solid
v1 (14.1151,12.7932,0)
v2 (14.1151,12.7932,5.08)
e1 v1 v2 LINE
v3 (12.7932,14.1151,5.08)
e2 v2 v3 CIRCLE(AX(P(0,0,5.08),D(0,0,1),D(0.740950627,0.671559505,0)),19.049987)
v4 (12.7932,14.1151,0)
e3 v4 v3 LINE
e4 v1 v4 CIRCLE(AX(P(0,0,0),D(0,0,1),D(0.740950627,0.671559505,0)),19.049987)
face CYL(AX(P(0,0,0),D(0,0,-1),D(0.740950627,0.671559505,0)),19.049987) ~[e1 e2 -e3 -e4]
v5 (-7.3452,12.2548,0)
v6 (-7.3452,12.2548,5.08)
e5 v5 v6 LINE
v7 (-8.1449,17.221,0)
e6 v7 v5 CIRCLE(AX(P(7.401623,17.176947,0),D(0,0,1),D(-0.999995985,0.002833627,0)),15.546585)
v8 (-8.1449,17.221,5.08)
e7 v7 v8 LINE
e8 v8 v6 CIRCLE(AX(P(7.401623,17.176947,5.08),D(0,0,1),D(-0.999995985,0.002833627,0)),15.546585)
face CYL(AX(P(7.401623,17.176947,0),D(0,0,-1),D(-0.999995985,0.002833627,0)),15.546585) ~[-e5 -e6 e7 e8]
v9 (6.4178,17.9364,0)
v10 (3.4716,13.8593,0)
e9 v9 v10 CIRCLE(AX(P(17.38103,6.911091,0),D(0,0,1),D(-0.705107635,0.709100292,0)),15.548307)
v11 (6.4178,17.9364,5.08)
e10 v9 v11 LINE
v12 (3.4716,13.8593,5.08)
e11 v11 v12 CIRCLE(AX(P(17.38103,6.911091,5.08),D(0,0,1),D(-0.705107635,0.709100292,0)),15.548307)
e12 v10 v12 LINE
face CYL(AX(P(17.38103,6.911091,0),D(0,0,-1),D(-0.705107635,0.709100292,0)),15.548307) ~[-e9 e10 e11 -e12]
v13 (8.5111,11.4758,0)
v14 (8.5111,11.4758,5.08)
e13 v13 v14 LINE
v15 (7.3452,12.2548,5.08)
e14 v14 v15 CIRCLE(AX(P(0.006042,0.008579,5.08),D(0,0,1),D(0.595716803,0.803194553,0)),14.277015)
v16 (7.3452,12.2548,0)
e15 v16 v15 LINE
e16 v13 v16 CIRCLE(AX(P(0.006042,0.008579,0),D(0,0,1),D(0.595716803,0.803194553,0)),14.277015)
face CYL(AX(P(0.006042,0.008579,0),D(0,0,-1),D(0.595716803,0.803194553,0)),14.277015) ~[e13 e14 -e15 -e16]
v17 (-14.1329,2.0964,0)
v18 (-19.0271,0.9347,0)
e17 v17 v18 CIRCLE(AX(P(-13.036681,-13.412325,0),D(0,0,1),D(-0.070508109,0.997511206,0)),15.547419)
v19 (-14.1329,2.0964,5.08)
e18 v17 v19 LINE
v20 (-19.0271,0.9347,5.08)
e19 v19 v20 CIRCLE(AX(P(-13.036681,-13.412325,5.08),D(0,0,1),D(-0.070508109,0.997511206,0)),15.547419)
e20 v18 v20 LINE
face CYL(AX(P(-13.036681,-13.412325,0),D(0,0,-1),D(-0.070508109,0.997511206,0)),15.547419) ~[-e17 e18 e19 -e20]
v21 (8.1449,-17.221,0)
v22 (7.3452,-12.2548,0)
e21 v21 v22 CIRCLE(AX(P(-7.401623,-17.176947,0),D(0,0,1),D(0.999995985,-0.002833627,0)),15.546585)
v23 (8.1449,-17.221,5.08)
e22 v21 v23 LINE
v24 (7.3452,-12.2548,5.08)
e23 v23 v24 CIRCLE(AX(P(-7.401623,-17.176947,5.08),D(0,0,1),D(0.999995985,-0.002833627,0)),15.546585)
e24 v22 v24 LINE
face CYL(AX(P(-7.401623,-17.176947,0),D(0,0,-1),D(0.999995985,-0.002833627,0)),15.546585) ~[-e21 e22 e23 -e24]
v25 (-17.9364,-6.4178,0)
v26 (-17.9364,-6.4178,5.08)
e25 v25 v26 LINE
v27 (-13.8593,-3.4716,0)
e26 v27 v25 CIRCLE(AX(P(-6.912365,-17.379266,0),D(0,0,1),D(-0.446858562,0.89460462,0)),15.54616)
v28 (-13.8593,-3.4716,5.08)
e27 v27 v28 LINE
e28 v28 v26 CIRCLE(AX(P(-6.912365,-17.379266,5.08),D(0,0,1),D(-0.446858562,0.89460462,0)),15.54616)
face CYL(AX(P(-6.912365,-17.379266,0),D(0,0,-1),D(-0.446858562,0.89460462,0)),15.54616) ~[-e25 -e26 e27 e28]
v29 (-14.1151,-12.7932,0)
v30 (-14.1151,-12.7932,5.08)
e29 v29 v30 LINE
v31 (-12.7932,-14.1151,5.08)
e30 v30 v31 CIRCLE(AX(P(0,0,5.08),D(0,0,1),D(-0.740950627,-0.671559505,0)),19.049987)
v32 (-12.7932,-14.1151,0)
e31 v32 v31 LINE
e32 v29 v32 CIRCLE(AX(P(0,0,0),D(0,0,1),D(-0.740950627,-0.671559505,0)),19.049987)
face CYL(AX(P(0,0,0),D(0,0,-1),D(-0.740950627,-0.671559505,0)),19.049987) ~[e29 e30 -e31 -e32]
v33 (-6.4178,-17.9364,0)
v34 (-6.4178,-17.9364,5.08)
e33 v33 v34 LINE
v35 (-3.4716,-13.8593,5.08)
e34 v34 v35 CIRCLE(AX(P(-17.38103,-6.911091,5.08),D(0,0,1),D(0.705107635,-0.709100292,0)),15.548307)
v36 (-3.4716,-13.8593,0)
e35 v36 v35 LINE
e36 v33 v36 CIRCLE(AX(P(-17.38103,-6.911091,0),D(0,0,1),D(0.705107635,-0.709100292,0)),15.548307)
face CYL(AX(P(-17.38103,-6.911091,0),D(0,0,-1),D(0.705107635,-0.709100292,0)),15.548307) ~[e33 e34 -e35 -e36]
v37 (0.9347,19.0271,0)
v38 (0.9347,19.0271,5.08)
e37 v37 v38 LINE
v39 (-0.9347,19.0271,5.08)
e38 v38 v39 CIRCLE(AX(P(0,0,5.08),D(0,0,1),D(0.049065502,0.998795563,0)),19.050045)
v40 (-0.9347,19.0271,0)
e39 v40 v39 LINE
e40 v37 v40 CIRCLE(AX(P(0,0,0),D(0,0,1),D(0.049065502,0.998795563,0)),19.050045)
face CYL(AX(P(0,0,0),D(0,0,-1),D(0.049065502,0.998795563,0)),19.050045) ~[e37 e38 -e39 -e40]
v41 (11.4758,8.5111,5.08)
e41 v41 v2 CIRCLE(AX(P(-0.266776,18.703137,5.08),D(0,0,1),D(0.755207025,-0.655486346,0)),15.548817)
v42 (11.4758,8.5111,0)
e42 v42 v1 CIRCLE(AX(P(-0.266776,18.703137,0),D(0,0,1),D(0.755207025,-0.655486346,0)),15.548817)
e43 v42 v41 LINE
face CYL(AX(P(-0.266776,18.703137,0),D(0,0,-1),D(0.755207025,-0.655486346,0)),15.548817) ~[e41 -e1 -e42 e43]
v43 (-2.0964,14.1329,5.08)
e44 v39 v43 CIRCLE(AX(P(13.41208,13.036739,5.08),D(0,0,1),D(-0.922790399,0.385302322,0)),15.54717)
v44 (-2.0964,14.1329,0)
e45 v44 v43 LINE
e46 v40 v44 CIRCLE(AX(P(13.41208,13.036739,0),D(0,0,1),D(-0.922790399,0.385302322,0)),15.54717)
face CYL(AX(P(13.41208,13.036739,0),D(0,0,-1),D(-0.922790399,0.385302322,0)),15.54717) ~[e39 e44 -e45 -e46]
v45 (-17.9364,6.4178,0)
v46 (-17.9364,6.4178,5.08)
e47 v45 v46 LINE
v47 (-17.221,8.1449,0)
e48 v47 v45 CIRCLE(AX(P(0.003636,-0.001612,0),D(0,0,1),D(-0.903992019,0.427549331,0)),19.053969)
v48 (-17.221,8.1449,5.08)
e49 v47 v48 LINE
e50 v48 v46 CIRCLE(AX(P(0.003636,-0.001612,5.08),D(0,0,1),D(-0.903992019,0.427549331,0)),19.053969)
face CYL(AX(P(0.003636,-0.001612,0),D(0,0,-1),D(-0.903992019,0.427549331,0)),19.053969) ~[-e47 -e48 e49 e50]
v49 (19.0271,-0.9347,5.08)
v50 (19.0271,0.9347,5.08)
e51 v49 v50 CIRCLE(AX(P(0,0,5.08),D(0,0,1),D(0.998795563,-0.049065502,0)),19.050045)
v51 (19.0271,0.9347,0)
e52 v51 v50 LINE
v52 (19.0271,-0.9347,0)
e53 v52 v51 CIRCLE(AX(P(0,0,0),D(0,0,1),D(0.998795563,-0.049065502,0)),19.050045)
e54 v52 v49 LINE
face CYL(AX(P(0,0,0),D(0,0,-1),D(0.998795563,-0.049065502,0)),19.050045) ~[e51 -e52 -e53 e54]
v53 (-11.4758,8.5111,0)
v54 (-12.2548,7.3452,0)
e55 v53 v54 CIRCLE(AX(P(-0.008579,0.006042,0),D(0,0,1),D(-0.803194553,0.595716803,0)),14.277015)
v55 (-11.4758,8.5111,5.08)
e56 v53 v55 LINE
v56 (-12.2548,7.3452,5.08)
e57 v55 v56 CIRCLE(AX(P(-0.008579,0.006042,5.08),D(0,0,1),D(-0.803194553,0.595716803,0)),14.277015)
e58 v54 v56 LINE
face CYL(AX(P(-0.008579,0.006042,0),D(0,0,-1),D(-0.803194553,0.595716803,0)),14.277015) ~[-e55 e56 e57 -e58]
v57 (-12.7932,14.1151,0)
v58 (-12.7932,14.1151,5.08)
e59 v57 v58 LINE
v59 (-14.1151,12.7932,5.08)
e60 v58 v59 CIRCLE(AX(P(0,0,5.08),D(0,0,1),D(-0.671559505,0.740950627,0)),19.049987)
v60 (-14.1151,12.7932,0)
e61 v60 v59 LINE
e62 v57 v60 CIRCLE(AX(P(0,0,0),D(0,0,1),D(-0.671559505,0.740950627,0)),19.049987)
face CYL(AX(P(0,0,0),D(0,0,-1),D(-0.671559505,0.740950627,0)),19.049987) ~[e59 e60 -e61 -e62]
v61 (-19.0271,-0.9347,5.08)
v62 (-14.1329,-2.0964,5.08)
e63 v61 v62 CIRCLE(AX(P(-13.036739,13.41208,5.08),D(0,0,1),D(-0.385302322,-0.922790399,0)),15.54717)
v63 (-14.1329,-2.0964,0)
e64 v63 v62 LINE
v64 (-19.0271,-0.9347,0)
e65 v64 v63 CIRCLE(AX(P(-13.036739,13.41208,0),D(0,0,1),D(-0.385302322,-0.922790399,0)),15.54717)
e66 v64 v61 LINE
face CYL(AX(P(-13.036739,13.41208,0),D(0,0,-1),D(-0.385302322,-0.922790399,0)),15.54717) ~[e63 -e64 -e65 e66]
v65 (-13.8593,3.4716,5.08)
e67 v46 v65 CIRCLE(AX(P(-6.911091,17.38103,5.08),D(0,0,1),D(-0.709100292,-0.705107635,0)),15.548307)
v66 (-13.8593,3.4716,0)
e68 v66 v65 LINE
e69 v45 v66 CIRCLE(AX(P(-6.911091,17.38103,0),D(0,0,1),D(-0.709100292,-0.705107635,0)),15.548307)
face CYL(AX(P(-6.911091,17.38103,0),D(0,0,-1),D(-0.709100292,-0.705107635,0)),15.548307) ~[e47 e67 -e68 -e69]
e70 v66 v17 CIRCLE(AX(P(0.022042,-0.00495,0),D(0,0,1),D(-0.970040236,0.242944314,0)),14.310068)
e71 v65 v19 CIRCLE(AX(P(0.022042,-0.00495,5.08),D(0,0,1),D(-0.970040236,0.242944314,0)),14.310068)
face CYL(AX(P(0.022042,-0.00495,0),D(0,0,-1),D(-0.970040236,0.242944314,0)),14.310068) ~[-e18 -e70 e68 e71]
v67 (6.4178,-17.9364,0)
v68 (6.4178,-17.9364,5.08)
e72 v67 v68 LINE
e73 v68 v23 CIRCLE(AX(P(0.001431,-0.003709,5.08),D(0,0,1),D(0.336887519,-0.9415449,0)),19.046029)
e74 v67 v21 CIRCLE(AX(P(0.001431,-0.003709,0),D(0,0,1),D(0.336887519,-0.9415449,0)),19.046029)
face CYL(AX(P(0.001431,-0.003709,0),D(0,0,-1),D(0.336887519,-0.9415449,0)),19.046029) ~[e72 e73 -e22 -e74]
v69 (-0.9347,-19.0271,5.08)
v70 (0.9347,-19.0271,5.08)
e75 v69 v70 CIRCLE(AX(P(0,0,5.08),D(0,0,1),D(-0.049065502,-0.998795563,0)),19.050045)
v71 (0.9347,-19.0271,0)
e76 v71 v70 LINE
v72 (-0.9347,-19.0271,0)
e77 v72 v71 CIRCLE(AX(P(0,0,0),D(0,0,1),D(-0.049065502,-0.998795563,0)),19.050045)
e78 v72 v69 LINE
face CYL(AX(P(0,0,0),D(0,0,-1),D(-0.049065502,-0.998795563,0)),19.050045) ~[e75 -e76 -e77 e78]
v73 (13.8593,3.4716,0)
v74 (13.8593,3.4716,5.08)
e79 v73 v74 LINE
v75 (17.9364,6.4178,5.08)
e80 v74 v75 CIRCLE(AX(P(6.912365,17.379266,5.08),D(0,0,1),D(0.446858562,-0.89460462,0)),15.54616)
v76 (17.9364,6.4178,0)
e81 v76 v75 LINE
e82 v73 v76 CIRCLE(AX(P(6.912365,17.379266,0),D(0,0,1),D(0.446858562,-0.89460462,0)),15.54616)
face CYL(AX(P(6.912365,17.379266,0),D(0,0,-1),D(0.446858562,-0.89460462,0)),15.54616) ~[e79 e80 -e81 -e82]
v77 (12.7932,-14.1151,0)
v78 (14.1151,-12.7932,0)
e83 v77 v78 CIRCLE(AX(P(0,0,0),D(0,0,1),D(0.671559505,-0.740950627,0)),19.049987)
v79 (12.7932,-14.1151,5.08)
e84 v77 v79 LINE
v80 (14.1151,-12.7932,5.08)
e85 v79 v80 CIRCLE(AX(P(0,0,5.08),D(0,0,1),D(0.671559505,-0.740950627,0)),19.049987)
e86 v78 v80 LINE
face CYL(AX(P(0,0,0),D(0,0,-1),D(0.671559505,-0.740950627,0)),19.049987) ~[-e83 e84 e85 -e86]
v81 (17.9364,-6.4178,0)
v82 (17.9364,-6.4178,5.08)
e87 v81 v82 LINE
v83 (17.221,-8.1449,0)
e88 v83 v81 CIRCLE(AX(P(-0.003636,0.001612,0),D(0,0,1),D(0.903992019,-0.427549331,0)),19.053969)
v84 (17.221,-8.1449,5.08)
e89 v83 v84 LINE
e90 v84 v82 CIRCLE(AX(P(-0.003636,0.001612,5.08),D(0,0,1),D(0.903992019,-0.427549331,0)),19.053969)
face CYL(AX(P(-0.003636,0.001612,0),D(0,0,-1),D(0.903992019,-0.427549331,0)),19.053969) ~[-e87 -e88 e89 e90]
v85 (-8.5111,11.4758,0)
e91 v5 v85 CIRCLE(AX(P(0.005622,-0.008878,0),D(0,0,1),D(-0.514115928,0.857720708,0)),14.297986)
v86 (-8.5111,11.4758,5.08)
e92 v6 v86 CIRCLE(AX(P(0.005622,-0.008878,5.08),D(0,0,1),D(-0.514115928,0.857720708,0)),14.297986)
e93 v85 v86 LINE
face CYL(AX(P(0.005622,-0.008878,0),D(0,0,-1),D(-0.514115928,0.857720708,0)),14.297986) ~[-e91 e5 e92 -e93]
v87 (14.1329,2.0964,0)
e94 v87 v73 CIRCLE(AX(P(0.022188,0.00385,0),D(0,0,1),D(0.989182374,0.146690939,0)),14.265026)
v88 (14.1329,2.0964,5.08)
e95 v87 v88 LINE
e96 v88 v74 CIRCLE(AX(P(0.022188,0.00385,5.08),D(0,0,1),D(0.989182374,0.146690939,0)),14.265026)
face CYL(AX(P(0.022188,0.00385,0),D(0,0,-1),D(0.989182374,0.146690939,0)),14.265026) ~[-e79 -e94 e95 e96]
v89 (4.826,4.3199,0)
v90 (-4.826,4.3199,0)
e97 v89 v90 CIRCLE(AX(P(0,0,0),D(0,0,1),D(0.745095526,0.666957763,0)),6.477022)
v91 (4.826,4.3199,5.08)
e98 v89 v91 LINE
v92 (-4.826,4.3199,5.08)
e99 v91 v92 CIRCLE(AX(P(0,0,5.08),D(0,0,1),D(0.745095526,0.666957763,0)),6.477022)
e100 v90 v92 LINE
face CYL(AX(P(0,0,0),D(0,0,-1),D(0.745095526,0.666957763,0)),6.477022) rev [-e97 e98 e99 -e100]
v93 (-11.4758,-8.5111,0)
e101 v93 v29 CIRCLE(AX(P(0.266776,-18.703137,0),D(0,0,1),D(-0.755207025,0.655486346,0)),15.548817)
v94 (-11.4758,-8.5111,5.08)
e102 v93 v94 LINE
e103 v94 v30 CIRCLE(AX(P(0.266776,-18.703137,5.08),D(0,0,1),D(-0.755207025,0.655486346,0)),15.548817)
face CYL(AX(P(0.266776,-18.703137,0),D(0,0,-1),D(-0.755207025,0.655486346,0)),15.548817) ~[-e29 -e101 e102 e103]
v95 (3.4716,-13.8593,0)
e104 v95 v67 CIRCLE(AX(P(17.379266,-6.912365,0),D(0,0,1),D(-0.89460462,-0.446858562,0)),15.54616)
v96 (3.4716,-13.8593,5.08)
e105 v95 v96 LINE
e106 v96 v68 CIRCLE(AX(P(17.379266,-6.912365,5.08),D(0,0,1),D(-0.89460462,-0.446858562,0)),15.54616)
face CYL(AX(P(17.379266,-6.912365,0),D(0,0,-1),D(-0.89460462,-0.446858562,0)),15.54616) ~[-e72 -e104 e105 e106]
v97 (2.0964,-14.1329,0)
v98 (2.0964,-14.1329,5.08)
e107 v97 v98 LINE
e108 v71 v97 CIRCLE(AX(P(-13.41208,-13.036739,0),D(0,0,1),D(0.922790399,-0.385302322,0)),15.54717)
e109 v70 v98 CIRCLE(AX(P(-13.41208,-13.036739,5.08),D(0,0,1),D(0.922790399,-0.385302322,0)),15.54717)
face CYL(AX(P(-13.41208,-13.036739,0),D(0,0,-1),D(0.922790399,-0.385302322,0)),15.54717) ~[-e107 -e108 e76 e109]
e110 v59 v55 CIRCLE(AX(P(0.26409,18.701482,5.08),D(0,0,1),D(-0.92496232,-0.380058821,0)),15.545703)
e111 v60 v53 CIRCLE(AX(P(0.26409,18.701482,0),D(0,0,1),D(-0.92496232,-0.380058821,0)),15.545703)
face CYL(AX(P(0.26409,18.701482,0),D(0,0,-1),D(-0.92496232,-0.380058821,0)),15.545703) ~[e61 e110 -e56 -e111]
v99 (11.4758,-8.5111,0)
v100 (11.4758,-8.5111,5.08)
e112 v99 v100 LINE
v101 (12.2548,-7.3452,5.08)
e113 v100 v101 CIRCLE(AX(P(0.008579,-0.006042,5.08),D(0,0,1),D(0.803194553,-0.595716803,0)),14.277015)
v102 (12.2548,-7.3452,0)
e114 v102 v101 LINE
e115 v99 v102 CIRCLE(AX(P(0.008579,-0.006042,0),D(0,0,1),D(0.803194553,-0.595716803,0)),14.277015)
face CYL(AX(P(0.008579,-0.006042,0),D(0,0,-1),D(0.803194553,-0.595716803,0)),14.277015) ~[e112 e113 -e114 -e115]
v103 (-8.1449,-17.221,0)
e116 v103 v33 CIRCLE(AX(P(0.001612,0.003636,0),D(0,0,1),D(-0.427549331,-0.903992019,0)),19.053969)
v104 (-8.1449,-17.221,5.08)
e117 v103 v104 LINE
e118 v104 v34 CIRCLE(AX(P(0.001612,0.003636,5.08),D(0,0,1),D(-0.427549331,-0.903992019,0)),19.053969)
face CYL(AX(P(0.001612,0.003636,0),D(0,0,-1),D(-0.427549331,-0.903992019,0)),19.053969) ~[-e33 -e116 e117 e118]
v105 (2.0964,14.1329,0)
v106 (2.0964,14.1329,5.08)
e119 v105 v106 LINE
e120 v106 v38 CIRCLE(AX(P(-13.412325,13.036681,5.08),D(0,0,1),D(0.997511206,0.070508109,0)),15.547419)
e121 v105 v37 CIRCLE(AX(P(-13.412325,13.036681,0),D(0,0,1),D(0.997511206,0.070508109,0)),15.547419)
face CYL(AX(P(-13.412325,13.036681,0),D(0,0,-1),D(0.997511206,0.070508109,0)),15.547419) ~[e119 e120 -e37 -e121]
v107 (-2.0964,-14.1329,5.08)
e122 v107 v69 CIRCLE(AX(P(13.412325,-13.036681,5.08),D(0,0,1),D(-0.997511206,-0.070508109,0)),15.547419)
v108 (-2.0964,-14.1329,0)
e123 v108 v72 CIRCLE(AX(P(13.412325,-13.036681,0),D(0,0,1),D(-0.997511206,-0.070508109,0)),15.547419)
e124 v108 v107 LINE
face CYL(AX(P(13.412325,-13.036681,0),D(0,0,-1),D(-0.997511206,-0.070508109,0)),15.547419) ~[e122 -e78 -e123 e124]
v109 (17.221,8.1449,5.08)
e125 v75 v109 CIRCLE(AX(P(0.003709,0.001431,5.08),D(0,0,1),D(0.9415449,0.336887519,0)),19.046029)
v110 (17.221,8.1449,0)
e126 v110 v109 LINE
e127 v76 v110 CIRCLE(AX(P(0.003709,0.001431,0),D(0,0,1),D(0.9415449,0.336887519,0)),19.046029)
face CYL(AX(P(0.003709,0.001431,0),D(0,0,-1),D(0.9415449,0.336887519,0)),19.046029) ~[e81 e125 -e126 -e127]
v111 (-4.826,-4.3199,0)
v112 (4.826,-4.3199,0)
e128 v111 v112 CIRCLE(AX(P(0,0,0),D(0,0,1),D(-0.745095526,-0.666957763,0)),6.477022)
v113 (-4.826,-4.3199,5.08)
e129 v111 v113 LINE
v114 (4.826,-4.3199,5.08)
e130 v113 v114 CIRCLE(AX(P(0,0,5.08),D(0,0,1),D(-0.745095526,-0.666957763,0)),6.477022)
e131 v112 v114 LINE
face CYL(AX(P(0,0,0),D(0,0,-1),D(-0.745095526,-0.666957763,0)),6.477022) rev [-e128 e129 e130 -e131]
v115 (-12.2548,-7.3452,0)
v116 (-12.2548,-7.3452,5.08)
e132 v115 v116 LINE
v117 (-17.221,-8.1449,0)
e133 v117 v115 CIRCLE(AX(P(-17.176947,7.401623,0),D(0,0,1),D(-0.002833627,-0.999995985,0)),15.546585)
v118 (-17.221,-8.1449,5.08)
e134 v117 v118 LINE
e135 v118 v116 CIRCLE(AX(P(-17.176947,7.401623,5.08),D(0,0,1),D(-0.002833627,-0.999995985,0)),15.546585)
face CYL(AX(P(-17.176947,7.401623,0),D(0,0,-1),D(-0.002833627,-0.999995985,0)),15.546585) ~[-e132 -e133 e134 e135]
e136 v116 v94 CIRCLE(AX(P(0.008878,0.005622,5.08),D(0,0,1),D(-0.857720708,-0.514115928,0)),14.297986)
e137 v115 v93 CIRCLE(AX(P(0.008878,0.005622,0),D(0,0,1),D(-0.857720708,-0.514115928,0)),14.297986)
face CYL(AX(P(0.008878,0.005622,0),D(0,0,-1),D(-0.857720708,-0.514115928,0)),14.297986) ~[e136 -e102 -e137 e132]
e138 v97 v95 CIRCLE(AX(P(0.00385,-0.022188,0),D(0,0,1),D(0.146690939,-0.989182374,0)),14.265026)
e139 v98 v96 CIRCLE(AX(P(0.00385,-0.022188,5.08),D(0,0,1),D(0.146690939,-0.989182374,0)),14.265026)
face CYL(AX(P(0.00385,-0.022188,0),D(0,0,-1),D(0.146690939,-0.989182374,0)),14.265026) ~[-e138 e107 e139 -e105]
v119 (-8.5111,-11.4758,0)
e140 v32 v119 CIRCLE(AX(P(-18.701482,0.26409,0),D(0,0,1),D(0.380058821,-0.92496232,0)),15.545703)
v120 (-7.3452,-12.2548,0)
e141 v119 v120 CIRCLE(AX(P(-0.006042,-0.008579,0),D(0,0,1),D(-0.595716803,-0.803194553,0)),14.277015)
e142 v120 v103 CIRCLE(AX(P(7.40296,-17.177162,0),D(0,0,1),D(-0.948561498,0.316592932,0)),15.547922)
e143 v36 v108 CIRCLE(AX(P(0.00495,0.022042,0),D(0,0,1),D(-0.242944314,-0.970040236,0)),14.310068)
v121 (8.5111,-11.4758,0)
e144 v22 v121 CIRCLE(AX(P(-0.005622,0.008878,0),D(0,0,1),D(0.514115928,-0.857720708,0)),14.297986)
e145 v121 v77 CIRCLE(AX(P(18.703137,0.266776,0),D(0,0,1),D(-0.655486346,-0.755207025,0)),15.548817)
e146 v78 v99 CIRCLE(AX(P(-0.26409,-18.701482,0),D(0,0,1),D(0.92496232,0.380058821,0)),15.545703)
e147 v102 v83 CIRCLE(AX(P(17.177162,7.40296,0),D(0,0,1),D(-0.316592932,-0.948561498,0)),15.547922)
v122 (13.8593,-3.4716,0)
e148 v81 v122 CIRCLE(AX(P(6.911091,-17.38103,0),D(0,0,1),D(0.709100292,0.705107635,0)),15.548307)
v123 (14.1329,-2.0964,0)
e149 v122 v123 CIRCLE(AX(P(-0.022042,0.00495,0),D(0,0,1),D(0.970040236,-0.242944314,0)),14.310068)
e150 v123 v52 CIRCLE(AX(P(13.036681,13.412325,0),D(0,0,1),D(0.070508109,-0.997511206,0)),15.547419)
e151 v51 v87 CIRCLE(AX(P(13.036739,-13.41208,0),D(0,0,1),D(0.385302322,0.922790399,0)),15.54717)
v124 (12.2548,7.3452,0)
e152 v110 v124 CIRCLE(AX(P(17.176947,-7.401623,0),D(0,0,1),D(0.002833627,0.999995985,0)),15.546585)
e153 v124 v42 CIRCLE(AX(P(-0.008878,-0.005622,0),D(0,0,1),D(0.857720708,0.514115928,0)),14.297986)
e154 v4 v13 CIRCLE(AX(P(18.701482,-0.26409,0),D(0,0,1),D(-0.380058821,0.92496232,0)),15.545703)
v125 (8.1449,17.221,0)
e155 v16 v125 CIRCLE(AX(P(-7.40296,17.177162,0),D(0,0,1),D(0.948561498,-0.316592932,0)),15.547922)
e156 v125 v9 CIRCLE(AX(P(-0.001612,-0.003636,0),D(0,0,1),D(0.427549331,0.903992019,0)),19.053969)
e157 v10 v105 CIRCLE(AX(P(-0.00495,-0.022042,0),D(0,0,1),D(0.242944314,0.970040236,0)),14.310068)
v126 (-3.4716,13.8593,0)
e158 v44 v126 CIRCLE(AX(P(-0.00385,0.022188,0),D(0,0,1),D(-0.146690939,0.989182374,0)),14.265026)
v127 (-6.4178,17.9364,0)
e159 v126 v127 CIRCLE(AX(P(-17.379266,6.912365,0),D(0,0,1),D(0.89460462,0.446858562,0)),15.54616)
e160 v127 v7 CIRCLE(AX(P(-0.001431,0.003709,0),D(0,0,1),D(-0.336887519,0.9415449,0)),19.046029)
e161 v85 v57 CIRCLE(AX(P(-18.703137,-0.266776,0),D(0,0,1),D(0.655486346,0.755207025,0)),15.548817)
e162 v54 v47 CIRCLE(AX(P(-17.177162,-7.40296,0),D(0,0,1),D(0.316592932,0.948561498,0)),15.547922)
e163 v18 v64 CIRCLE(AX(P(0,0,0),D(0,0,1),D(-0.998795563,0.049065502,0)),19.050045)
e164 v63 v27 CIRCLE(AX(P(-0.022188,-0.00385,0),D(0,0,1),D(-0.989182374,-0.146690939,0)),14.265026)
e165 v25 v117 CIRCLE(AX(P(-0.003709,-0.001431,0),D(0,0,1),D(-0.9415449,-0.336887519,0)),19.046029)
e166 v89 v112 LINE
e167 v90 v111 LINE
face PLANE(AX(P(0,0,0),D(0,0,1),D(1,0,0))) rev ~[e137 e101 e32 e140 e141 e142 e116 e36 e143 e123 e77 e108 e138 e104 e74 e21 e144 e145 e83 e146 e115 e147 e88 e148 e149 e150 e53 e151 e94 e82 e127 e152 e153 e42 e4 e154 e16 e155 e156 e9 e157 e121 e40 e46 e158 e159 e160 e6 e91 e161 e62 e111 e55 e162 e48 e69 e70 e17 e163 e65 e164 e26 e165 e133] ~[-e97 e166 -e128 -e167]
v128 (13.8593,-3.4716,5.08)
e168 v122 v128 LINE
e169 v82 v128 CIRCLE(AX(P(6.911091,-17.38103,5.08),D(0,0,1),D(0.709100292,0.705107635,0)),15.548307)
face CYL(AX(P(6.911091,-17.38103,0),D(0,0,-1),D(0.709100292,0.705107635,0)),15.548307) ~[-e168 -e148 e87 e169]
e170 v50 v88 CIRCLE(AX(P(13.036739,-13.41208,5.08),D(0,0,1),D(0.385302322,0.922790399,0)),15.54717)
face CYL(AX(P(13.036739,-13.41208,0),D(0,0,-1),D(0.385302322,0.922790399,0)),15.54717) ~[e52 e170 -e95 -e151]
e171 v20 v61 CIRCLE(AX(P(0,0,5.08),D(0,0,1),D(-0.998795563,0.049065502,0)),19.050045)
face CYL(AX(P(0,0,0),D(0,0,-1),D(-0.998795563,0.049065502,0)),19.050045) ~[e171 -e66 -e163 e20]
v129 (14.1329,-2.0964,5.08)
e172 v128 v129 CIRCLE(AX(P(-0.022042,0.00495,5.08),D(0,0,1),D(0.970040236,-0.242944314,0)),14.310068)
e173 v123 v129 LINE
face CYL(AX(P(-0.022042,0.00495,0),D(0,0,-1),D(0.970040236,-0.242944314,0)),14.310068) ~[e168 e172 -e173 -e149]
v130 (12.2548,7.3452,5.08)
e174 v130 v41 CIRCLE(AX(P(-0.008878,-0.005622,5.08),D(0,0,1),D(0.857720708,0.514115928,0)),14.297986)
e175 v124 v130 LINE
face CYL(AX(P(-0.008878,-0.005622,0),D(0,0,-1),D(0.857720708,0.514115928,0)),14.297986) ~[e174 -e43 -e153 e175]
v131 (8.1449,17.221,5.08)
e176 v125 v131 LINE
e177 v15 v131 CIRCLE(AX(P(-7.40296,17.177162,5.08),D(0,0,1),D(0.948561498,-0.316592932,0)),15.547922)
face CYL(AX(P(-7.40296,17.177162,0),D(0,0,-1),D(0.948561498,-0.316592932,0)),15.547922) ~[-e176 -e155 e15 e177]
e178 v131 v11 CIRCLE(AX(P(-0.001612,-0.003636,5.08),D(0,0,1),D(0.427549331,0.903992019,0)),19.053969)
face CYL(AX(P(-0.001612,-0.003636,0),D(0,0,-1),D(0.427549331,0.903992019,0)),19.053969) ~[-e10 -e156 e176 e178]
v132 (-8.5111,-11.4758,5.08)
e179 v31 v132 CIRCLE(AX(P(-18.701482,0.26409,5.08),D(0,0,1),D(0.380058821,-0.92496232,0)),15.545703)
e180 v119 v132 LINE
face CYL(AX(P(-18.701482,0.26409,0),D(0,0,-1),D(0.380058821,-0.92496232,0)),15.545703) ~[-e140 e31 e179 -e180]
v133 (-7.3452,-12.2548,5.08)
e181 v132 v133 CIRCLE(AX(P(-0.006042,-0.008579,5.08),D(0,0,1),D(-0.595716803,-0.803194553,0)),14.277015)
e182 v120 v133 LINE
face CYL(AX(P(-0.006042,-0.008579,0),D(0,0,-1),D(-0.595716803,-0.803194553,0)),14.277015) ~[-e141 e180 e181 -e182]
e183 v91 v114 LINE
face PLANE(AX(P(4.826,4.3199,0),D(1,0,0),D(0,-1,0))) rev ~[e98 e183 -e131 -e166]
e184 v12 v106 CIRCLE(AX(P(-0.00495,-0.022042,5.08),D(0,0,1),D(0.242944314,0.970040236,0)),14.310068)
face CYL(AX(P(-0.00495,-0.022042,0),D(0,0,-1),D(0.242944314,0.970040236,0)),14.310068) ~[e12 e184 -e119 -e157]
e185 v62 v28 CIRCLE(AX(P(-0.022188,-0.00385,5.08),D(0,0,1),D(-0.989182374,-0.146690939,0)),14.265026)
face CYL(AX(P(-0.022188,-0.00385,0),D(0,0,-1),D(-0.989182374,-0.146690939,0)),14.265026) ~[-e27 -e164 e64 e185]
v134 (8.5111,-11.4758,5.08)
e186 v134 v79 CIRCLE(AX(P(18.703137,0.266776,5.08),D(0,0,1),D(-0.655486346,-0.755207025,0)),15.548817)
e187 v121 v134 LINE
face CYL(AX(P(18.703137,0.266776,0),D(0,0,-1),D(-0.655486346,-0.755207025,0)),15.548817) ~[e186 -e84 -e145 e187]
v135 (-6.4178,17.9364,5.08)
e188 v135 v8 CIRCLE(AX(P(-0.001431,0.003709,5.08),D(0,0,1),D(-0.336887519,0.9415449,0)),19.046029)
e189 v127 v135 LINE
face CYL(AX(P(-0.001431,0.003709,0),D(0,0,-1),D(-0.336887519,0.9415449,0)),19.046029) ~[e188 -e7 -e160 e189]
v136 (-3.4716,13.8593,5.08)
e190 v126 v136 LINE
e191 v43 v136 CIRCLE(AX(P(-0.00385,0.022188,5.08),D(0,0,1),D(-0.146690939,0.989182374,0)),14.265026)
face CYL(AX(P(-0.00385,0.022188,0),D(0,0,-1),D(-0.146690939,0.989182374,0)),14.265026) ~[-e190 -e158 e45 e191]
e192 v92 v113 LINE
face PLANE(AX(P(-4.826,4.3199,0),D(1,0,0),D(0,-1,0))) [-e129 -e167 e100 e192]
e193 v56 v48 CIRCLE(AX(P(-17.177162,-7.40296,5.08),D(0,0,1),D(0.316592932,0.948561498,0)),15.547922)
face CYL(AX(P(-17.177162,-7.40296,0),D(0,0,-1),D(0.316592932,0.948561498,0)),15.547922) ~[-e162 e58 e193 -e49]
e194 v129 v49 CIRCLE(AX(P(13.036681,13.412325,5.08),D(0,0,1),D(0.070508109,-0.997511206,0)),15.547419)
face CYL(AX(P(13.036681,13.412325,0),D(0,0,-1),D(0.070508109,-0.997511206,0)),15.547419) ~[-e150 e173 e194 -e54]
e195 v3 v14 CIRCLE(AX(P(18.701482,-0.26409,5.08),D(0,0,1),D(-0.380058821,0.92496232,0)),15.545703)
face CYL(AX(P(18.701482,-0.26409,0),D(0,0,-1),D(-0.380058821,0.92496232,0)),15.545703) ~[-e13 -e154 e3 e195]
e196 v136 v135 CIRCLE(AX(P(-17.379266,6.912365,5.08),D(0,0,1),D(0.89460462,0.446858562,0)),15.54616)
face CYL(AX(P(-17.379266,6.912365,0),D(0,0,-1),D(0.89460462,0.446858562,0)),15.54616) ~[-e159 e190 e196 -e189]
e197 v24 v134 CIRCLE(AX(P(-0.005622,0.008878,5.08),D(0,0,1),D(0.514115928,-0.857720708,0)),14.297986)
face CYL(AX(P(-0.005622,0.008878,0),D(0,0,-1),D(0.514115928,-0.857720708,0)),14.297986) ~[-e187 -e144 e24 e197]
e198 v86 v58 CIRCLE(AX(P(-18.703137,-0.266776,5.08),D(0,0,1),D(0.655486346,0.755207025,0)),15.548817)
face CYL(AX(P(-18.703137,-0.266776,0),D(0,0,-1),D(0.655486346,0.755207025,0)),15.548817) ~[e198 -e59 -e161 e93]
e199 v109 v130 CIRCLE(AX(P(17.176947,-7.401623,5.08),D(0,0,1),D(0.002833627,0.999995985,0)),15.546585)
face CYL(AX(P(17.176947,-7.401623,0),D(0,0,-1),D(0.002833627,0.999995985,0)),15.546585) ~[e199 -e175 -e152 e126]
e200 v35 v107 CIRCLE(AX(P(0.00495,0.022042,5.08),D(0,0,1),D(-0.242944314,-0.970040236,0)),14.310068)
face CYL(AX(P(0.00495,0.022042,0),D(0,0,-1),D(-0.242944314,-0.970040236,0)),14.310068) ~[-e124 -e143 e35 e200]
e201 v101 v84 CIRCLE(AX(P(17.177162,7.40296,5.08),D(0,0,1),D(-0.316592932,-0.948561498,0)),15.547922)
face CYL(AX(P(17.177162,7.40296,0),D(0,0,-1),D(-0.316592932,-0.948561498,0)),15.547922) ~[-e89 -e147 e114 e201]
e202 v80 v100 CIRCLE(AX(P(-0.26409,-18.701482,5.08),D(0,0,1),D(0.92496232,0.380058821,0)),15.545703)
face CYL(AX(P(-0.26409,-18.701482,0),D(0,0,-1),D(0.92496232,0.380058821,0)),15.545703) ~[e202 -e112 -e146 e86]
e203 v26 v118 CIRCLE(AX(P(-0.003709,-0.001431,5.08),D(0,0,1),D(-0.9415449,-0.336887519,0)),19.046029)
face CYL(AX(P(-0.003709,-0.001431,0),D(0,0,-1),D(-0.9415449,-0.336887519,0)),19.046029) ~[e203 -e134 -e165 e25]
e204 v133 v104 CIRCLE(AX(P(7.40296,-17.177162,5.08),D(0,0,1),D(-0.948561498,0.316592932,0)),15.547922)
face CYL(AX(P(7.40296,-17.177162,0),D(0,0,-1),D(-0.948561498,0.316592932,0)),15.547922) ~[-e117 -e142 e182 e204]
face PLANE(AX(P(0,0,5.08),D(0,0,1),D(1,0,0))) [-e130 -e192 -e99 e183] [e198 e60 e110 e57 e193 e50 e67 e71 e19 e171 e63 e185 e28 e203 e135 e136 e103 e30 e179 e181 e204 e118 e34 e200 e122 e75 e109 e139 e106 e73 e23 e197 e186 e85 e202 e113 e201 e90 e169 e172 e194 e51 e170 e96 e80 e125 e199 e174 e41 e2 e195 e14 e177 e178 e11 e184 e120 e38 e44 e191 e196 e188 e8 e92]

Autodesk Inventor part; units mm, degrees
ref_plane "YZ Plane" through (0, 0, 0) normal (1, 0, 0) x (0, 1, 0)
ref_plane "XZ Plane" through (0, 0, 0) normal (0, 1, 0) x (-1, 0, 0)
ref_plane "XY Plane" through (0, 0, 0) normal (0, 0, 1) x (1, 0, 0)
sketch "Sketch3" plane through (0, 0, 0) normal (0, 0, 1) x (1, 0, 0)
  arc A0 (12.7932, -14.1151) -> (14.1151, -12.7932) centre (0, 0) ccw
  arc A1 (14.1151, -12.7932) -> (11.4758, -8.5111) centre (-0.2655, -18.7022) ccw
  arc A2 (11.4758, -8.5111) -> (12.2548, -7.3452) centre (0, 0) ccw
  arc A3 (12.2548, -7.3452) -> (17.221, -8.1449) centre (17.177, 7.4023) ccw
  arc A4 (17.221, -8.1449) -> (17.9364, -6.4178) centre (0, 0) ccw
  arc A5 (17.9364, -6.4178) -> (13.8593, -3.4716) centre (6.9118, -17.3802) ccw
  arc A6 (13.8593, -3.4716) -> (14.1329, -2.0964) centre (0, 0) ccw
  arc A7 (14.1329, -2.0964) -> (19.0271, -0.9347) centre (13.0367, 13.4122) ccw
  arc A8 (19.0271, -0.9347) -> (19.0271, 0.9347) centre (0, 0) ccw
  arc A9 (19.0271, 0.9347) -> (14.1329, 2.0964) centre (13.0367, -13.4122) ccw
  arc A10 (14.1329, 2.0964) -> (13.8593, 3.4716) centre (0, 0) ccw
  arc A11 (13.8593, 3.4716) -> (17.9364, 6.4178) centre (6.9118, 17.3802) ccw
  arc A12 (17.9364, 6.4178) -> (17.221, 8.1449) centre (0, 0) ccw
  arc A13 (17.221, 8.1449) -> (12.2548, 7.3452) centre (17.177, -7.4023) ccw
  arc A14 (12.2548, 7.3452) -> (11.4758, 8.5111) centre (0, 0) ccw
  arc A15 (11.4758, 8.5111) -> (14.1151, 12.7932) centre (-0.2655, 18.7022) ccw
  arc A16 (14.1151, 12.7932) -> (12.7932, 14.1151) centre (0, 0) ccw
  arc A17 (12.7932, 14.1151) -> (8.5111, 11.4758) centre (18.7022, -0.2655) ccw
  arc A18 (8.5111, 11.4758) -> (7.3452, 12.2548) centre (0, 0) ccw
  arc A19 (7.3452, 12.2548) -> (8.1449, 17.221) centre (-7.4023, 17.177) ccw
  arc A20 (8.1449, 17.221) -> (6.4178, 17.9364) centre (0, 0) ccw
  arc A21 (6.4178, 17.9364) -> (3.4716, 13.8593) centre (17.3802, 6.9118) ccw
  arc A22 (3.4716, 13.8593) -> (2.0964, 14.1329) centre (0, 0) ccw
  arc A23 (2.0964, 14.1329) -> (0.9347, 19.0271) centre (-13.4122, 13.0367) ccw
  arc A24 (0.9347, 19.0271) -> (-0.9347, 19.0271) centre (0, 0) ccw
  arc A25 (-0.9347, 19.0271) -> (-2.0964, 14.1329) centre (13.4122, 13.0367) ccw
  arc A26 (-2.0964, 14.1329) -> (-3.4716, 13.8593) centre (0, 0) ccw
  arc A27 (-3.4716, 13.8593) -> (-6.4178, 17.9364) centre (-17.3802, 6.9118) ccw
  arc A28 (-6.4178, 17.9364) -> (-8.1449, 17.221) centre (0, 0) ccw
  arc A29 (-8.1449, 17.221) -> (-7.3452, 12.2548) centre (7.4023, 17.177) ccw
  arc A30 (-7.3452, 12.2548) -> (-8.5111, 11.4758) centre (0, 0) ccw
  arc A31 (-8.5111, 11.4758) -> (-12.7932, 14.1151) centre (-18.7022, -0.2655) ccw
  arc A32 (-12.7932, 14.1151) -> (-14.1151, 12.7932) centre (0, 0) ccw
  arc A33 (-14.1151, 12.7932) -> (-11.4758, 8.5111) centre (0.2655, 18.7022) ccw
  arc A34 (-11.4758, 8.5111) -> (-12.2548, 7.3452) centre (0, 0) ccw
  arc A35 (-12.2548, 7.3452) -> (-17.221, 8.1449) centre (-17.177, -7.4023) ccw
  arc A36 (-17.221, 8.1449) -> (-17.9364, 6.4178) centre (0, 0) ccw
  arc A37 (-17.9364, 6.4178) -> (-13.8593, 3.4716) centre (-6.9118, 17.3802) ccw
  arc A38 (-13.8593, 3.4716) -> (-14.1329, 2.0964) centre (0, 0) ccw
  arc A39 (-14.1329, 2.0964) -> (-19.0271, 0.9347) centre (-13.0367, -13.4122) ccw
  arc A40 (-19.0271, 0.9347) -> (-19.0271, -0.9347) centre (0, 0) ccw
  arc A41 (-19.0271, -0.9347) -> (-14.1329, -2.0964) centre (-13.0367, 13.4122) ccw
  arc A42 (-14.1329, -2.0964) -> (-13.8593, -3.4716) centre (0, 0) ccw
  arc A43 (-13.8593, -3.4716) -> (-17.9364, -6.4178) centre (-6.9118, -17.3802) ccw
  arc A44 (-17.9364, -6.4178) -> (-17.221, -8.1449) centre (0, 0) ccw
  arc A45 (-17.221, -8.1449) -> (-12.2548, -7.3452) centre (-17.177, 7.4023) ccw
  arc A46 (-12.2548, -7.3452) -> (-11.4758, -8.5111) centre (0, 0) ccw
  arc A47 (-11.4758, -8.5111) -> (-14.1151, -12.7932) centre (0.2655, -18.7022) ccw
  arc A48 (-14.1151, -12.7932) -> (-12.7932, -14.1151) centre (0, 0) ccw
  arc A49 (-12.7932, -14.1151) -> (-8.5111, -11.4758) centre (-18.7022, 0.2655) ccw
  arc A50 (-8.5111, -11.4758) -> (-7.3452, -12.2548) centre (0, 0) ccw
  arc A51 (-7.3452, -12.2548) -> (-8.1449, -17.221) centre (7.4023, -17.177) ccw
  arc A52 (-8.1449, -17.221) -> (-6.4178, -17.9364) centre (0, 0) ccw
  arc A53 (-6.4178, -17.9364) -> (-3.4716, -13.8593) centre (-17.3802, -6.9118) ccw
  arc A54 (-3.4716, -13.8593) -> (-2.0964, -14.1329) centre (0, 0) ccw
  arc A55 (-2.0964, -14.1329) -> (-0.9347, -19.0271) centre (13.4122, -13.0367) ccw
  arc A56 (-0.9347, -19.0271) -> (0.9347, -19.0271) centre (0, 0) ccw
  arc A57 (0.9347, -19.0271) -> (2.0964, -14.1329) centre (-13.4122, -13.0367) ccw
  arc A58 (2.0964, -14.1329) -> (3.4716, -13.8593) centre (0, 0) ccw
  arc A59 (3.4716, -13.8593) -> (6.4178, -17.9364) centre (17.3802, -6.9118) ccw
  arc A60 (6.4178, -17.9364) -> (8.1449, -17.221) centre (0, 0) ccw
  arc A61 (8.1449, -17.221) -> (7.3452, -12.2548) centre (-7.4023, -17.177) ccw
  arc A62 (7.3452, -12.2548) -> (8.5111, -11.4758) centre (0, 0) ccw
  arc A63 (8.5111, -11.4758) -> (12.7932, -14.1151) centre (18.7022, 0.2655) ccw
  circle A64 centre (0, 0) radius 16.9291 construction
  line L0 (-4.826, 4.3199) -> (-4.826, -4.3199)
  line L1 (4.826, 4.3199) -> (4.826, -4.3199)
  arc A65 (-4.826, -4.3199) -> (4.826, -4.3199) centre (0, 0) ccw
  arc A66 (4.826, 4.3199) -> (-4.826, 4.3199) centre (0, 0) ccw
  dimension "d14" = 19.05
  dimension "d15" = 33.8582
  dimension "d8" = 4.826
  dimension "d9" = 9.652
  dimension "d10" = 6.477
  dimension "d11" = 6.477
extrude "Extrusion2" add sketch "Sketch3" along normal blind 5.08
properties part number "Pinion"
